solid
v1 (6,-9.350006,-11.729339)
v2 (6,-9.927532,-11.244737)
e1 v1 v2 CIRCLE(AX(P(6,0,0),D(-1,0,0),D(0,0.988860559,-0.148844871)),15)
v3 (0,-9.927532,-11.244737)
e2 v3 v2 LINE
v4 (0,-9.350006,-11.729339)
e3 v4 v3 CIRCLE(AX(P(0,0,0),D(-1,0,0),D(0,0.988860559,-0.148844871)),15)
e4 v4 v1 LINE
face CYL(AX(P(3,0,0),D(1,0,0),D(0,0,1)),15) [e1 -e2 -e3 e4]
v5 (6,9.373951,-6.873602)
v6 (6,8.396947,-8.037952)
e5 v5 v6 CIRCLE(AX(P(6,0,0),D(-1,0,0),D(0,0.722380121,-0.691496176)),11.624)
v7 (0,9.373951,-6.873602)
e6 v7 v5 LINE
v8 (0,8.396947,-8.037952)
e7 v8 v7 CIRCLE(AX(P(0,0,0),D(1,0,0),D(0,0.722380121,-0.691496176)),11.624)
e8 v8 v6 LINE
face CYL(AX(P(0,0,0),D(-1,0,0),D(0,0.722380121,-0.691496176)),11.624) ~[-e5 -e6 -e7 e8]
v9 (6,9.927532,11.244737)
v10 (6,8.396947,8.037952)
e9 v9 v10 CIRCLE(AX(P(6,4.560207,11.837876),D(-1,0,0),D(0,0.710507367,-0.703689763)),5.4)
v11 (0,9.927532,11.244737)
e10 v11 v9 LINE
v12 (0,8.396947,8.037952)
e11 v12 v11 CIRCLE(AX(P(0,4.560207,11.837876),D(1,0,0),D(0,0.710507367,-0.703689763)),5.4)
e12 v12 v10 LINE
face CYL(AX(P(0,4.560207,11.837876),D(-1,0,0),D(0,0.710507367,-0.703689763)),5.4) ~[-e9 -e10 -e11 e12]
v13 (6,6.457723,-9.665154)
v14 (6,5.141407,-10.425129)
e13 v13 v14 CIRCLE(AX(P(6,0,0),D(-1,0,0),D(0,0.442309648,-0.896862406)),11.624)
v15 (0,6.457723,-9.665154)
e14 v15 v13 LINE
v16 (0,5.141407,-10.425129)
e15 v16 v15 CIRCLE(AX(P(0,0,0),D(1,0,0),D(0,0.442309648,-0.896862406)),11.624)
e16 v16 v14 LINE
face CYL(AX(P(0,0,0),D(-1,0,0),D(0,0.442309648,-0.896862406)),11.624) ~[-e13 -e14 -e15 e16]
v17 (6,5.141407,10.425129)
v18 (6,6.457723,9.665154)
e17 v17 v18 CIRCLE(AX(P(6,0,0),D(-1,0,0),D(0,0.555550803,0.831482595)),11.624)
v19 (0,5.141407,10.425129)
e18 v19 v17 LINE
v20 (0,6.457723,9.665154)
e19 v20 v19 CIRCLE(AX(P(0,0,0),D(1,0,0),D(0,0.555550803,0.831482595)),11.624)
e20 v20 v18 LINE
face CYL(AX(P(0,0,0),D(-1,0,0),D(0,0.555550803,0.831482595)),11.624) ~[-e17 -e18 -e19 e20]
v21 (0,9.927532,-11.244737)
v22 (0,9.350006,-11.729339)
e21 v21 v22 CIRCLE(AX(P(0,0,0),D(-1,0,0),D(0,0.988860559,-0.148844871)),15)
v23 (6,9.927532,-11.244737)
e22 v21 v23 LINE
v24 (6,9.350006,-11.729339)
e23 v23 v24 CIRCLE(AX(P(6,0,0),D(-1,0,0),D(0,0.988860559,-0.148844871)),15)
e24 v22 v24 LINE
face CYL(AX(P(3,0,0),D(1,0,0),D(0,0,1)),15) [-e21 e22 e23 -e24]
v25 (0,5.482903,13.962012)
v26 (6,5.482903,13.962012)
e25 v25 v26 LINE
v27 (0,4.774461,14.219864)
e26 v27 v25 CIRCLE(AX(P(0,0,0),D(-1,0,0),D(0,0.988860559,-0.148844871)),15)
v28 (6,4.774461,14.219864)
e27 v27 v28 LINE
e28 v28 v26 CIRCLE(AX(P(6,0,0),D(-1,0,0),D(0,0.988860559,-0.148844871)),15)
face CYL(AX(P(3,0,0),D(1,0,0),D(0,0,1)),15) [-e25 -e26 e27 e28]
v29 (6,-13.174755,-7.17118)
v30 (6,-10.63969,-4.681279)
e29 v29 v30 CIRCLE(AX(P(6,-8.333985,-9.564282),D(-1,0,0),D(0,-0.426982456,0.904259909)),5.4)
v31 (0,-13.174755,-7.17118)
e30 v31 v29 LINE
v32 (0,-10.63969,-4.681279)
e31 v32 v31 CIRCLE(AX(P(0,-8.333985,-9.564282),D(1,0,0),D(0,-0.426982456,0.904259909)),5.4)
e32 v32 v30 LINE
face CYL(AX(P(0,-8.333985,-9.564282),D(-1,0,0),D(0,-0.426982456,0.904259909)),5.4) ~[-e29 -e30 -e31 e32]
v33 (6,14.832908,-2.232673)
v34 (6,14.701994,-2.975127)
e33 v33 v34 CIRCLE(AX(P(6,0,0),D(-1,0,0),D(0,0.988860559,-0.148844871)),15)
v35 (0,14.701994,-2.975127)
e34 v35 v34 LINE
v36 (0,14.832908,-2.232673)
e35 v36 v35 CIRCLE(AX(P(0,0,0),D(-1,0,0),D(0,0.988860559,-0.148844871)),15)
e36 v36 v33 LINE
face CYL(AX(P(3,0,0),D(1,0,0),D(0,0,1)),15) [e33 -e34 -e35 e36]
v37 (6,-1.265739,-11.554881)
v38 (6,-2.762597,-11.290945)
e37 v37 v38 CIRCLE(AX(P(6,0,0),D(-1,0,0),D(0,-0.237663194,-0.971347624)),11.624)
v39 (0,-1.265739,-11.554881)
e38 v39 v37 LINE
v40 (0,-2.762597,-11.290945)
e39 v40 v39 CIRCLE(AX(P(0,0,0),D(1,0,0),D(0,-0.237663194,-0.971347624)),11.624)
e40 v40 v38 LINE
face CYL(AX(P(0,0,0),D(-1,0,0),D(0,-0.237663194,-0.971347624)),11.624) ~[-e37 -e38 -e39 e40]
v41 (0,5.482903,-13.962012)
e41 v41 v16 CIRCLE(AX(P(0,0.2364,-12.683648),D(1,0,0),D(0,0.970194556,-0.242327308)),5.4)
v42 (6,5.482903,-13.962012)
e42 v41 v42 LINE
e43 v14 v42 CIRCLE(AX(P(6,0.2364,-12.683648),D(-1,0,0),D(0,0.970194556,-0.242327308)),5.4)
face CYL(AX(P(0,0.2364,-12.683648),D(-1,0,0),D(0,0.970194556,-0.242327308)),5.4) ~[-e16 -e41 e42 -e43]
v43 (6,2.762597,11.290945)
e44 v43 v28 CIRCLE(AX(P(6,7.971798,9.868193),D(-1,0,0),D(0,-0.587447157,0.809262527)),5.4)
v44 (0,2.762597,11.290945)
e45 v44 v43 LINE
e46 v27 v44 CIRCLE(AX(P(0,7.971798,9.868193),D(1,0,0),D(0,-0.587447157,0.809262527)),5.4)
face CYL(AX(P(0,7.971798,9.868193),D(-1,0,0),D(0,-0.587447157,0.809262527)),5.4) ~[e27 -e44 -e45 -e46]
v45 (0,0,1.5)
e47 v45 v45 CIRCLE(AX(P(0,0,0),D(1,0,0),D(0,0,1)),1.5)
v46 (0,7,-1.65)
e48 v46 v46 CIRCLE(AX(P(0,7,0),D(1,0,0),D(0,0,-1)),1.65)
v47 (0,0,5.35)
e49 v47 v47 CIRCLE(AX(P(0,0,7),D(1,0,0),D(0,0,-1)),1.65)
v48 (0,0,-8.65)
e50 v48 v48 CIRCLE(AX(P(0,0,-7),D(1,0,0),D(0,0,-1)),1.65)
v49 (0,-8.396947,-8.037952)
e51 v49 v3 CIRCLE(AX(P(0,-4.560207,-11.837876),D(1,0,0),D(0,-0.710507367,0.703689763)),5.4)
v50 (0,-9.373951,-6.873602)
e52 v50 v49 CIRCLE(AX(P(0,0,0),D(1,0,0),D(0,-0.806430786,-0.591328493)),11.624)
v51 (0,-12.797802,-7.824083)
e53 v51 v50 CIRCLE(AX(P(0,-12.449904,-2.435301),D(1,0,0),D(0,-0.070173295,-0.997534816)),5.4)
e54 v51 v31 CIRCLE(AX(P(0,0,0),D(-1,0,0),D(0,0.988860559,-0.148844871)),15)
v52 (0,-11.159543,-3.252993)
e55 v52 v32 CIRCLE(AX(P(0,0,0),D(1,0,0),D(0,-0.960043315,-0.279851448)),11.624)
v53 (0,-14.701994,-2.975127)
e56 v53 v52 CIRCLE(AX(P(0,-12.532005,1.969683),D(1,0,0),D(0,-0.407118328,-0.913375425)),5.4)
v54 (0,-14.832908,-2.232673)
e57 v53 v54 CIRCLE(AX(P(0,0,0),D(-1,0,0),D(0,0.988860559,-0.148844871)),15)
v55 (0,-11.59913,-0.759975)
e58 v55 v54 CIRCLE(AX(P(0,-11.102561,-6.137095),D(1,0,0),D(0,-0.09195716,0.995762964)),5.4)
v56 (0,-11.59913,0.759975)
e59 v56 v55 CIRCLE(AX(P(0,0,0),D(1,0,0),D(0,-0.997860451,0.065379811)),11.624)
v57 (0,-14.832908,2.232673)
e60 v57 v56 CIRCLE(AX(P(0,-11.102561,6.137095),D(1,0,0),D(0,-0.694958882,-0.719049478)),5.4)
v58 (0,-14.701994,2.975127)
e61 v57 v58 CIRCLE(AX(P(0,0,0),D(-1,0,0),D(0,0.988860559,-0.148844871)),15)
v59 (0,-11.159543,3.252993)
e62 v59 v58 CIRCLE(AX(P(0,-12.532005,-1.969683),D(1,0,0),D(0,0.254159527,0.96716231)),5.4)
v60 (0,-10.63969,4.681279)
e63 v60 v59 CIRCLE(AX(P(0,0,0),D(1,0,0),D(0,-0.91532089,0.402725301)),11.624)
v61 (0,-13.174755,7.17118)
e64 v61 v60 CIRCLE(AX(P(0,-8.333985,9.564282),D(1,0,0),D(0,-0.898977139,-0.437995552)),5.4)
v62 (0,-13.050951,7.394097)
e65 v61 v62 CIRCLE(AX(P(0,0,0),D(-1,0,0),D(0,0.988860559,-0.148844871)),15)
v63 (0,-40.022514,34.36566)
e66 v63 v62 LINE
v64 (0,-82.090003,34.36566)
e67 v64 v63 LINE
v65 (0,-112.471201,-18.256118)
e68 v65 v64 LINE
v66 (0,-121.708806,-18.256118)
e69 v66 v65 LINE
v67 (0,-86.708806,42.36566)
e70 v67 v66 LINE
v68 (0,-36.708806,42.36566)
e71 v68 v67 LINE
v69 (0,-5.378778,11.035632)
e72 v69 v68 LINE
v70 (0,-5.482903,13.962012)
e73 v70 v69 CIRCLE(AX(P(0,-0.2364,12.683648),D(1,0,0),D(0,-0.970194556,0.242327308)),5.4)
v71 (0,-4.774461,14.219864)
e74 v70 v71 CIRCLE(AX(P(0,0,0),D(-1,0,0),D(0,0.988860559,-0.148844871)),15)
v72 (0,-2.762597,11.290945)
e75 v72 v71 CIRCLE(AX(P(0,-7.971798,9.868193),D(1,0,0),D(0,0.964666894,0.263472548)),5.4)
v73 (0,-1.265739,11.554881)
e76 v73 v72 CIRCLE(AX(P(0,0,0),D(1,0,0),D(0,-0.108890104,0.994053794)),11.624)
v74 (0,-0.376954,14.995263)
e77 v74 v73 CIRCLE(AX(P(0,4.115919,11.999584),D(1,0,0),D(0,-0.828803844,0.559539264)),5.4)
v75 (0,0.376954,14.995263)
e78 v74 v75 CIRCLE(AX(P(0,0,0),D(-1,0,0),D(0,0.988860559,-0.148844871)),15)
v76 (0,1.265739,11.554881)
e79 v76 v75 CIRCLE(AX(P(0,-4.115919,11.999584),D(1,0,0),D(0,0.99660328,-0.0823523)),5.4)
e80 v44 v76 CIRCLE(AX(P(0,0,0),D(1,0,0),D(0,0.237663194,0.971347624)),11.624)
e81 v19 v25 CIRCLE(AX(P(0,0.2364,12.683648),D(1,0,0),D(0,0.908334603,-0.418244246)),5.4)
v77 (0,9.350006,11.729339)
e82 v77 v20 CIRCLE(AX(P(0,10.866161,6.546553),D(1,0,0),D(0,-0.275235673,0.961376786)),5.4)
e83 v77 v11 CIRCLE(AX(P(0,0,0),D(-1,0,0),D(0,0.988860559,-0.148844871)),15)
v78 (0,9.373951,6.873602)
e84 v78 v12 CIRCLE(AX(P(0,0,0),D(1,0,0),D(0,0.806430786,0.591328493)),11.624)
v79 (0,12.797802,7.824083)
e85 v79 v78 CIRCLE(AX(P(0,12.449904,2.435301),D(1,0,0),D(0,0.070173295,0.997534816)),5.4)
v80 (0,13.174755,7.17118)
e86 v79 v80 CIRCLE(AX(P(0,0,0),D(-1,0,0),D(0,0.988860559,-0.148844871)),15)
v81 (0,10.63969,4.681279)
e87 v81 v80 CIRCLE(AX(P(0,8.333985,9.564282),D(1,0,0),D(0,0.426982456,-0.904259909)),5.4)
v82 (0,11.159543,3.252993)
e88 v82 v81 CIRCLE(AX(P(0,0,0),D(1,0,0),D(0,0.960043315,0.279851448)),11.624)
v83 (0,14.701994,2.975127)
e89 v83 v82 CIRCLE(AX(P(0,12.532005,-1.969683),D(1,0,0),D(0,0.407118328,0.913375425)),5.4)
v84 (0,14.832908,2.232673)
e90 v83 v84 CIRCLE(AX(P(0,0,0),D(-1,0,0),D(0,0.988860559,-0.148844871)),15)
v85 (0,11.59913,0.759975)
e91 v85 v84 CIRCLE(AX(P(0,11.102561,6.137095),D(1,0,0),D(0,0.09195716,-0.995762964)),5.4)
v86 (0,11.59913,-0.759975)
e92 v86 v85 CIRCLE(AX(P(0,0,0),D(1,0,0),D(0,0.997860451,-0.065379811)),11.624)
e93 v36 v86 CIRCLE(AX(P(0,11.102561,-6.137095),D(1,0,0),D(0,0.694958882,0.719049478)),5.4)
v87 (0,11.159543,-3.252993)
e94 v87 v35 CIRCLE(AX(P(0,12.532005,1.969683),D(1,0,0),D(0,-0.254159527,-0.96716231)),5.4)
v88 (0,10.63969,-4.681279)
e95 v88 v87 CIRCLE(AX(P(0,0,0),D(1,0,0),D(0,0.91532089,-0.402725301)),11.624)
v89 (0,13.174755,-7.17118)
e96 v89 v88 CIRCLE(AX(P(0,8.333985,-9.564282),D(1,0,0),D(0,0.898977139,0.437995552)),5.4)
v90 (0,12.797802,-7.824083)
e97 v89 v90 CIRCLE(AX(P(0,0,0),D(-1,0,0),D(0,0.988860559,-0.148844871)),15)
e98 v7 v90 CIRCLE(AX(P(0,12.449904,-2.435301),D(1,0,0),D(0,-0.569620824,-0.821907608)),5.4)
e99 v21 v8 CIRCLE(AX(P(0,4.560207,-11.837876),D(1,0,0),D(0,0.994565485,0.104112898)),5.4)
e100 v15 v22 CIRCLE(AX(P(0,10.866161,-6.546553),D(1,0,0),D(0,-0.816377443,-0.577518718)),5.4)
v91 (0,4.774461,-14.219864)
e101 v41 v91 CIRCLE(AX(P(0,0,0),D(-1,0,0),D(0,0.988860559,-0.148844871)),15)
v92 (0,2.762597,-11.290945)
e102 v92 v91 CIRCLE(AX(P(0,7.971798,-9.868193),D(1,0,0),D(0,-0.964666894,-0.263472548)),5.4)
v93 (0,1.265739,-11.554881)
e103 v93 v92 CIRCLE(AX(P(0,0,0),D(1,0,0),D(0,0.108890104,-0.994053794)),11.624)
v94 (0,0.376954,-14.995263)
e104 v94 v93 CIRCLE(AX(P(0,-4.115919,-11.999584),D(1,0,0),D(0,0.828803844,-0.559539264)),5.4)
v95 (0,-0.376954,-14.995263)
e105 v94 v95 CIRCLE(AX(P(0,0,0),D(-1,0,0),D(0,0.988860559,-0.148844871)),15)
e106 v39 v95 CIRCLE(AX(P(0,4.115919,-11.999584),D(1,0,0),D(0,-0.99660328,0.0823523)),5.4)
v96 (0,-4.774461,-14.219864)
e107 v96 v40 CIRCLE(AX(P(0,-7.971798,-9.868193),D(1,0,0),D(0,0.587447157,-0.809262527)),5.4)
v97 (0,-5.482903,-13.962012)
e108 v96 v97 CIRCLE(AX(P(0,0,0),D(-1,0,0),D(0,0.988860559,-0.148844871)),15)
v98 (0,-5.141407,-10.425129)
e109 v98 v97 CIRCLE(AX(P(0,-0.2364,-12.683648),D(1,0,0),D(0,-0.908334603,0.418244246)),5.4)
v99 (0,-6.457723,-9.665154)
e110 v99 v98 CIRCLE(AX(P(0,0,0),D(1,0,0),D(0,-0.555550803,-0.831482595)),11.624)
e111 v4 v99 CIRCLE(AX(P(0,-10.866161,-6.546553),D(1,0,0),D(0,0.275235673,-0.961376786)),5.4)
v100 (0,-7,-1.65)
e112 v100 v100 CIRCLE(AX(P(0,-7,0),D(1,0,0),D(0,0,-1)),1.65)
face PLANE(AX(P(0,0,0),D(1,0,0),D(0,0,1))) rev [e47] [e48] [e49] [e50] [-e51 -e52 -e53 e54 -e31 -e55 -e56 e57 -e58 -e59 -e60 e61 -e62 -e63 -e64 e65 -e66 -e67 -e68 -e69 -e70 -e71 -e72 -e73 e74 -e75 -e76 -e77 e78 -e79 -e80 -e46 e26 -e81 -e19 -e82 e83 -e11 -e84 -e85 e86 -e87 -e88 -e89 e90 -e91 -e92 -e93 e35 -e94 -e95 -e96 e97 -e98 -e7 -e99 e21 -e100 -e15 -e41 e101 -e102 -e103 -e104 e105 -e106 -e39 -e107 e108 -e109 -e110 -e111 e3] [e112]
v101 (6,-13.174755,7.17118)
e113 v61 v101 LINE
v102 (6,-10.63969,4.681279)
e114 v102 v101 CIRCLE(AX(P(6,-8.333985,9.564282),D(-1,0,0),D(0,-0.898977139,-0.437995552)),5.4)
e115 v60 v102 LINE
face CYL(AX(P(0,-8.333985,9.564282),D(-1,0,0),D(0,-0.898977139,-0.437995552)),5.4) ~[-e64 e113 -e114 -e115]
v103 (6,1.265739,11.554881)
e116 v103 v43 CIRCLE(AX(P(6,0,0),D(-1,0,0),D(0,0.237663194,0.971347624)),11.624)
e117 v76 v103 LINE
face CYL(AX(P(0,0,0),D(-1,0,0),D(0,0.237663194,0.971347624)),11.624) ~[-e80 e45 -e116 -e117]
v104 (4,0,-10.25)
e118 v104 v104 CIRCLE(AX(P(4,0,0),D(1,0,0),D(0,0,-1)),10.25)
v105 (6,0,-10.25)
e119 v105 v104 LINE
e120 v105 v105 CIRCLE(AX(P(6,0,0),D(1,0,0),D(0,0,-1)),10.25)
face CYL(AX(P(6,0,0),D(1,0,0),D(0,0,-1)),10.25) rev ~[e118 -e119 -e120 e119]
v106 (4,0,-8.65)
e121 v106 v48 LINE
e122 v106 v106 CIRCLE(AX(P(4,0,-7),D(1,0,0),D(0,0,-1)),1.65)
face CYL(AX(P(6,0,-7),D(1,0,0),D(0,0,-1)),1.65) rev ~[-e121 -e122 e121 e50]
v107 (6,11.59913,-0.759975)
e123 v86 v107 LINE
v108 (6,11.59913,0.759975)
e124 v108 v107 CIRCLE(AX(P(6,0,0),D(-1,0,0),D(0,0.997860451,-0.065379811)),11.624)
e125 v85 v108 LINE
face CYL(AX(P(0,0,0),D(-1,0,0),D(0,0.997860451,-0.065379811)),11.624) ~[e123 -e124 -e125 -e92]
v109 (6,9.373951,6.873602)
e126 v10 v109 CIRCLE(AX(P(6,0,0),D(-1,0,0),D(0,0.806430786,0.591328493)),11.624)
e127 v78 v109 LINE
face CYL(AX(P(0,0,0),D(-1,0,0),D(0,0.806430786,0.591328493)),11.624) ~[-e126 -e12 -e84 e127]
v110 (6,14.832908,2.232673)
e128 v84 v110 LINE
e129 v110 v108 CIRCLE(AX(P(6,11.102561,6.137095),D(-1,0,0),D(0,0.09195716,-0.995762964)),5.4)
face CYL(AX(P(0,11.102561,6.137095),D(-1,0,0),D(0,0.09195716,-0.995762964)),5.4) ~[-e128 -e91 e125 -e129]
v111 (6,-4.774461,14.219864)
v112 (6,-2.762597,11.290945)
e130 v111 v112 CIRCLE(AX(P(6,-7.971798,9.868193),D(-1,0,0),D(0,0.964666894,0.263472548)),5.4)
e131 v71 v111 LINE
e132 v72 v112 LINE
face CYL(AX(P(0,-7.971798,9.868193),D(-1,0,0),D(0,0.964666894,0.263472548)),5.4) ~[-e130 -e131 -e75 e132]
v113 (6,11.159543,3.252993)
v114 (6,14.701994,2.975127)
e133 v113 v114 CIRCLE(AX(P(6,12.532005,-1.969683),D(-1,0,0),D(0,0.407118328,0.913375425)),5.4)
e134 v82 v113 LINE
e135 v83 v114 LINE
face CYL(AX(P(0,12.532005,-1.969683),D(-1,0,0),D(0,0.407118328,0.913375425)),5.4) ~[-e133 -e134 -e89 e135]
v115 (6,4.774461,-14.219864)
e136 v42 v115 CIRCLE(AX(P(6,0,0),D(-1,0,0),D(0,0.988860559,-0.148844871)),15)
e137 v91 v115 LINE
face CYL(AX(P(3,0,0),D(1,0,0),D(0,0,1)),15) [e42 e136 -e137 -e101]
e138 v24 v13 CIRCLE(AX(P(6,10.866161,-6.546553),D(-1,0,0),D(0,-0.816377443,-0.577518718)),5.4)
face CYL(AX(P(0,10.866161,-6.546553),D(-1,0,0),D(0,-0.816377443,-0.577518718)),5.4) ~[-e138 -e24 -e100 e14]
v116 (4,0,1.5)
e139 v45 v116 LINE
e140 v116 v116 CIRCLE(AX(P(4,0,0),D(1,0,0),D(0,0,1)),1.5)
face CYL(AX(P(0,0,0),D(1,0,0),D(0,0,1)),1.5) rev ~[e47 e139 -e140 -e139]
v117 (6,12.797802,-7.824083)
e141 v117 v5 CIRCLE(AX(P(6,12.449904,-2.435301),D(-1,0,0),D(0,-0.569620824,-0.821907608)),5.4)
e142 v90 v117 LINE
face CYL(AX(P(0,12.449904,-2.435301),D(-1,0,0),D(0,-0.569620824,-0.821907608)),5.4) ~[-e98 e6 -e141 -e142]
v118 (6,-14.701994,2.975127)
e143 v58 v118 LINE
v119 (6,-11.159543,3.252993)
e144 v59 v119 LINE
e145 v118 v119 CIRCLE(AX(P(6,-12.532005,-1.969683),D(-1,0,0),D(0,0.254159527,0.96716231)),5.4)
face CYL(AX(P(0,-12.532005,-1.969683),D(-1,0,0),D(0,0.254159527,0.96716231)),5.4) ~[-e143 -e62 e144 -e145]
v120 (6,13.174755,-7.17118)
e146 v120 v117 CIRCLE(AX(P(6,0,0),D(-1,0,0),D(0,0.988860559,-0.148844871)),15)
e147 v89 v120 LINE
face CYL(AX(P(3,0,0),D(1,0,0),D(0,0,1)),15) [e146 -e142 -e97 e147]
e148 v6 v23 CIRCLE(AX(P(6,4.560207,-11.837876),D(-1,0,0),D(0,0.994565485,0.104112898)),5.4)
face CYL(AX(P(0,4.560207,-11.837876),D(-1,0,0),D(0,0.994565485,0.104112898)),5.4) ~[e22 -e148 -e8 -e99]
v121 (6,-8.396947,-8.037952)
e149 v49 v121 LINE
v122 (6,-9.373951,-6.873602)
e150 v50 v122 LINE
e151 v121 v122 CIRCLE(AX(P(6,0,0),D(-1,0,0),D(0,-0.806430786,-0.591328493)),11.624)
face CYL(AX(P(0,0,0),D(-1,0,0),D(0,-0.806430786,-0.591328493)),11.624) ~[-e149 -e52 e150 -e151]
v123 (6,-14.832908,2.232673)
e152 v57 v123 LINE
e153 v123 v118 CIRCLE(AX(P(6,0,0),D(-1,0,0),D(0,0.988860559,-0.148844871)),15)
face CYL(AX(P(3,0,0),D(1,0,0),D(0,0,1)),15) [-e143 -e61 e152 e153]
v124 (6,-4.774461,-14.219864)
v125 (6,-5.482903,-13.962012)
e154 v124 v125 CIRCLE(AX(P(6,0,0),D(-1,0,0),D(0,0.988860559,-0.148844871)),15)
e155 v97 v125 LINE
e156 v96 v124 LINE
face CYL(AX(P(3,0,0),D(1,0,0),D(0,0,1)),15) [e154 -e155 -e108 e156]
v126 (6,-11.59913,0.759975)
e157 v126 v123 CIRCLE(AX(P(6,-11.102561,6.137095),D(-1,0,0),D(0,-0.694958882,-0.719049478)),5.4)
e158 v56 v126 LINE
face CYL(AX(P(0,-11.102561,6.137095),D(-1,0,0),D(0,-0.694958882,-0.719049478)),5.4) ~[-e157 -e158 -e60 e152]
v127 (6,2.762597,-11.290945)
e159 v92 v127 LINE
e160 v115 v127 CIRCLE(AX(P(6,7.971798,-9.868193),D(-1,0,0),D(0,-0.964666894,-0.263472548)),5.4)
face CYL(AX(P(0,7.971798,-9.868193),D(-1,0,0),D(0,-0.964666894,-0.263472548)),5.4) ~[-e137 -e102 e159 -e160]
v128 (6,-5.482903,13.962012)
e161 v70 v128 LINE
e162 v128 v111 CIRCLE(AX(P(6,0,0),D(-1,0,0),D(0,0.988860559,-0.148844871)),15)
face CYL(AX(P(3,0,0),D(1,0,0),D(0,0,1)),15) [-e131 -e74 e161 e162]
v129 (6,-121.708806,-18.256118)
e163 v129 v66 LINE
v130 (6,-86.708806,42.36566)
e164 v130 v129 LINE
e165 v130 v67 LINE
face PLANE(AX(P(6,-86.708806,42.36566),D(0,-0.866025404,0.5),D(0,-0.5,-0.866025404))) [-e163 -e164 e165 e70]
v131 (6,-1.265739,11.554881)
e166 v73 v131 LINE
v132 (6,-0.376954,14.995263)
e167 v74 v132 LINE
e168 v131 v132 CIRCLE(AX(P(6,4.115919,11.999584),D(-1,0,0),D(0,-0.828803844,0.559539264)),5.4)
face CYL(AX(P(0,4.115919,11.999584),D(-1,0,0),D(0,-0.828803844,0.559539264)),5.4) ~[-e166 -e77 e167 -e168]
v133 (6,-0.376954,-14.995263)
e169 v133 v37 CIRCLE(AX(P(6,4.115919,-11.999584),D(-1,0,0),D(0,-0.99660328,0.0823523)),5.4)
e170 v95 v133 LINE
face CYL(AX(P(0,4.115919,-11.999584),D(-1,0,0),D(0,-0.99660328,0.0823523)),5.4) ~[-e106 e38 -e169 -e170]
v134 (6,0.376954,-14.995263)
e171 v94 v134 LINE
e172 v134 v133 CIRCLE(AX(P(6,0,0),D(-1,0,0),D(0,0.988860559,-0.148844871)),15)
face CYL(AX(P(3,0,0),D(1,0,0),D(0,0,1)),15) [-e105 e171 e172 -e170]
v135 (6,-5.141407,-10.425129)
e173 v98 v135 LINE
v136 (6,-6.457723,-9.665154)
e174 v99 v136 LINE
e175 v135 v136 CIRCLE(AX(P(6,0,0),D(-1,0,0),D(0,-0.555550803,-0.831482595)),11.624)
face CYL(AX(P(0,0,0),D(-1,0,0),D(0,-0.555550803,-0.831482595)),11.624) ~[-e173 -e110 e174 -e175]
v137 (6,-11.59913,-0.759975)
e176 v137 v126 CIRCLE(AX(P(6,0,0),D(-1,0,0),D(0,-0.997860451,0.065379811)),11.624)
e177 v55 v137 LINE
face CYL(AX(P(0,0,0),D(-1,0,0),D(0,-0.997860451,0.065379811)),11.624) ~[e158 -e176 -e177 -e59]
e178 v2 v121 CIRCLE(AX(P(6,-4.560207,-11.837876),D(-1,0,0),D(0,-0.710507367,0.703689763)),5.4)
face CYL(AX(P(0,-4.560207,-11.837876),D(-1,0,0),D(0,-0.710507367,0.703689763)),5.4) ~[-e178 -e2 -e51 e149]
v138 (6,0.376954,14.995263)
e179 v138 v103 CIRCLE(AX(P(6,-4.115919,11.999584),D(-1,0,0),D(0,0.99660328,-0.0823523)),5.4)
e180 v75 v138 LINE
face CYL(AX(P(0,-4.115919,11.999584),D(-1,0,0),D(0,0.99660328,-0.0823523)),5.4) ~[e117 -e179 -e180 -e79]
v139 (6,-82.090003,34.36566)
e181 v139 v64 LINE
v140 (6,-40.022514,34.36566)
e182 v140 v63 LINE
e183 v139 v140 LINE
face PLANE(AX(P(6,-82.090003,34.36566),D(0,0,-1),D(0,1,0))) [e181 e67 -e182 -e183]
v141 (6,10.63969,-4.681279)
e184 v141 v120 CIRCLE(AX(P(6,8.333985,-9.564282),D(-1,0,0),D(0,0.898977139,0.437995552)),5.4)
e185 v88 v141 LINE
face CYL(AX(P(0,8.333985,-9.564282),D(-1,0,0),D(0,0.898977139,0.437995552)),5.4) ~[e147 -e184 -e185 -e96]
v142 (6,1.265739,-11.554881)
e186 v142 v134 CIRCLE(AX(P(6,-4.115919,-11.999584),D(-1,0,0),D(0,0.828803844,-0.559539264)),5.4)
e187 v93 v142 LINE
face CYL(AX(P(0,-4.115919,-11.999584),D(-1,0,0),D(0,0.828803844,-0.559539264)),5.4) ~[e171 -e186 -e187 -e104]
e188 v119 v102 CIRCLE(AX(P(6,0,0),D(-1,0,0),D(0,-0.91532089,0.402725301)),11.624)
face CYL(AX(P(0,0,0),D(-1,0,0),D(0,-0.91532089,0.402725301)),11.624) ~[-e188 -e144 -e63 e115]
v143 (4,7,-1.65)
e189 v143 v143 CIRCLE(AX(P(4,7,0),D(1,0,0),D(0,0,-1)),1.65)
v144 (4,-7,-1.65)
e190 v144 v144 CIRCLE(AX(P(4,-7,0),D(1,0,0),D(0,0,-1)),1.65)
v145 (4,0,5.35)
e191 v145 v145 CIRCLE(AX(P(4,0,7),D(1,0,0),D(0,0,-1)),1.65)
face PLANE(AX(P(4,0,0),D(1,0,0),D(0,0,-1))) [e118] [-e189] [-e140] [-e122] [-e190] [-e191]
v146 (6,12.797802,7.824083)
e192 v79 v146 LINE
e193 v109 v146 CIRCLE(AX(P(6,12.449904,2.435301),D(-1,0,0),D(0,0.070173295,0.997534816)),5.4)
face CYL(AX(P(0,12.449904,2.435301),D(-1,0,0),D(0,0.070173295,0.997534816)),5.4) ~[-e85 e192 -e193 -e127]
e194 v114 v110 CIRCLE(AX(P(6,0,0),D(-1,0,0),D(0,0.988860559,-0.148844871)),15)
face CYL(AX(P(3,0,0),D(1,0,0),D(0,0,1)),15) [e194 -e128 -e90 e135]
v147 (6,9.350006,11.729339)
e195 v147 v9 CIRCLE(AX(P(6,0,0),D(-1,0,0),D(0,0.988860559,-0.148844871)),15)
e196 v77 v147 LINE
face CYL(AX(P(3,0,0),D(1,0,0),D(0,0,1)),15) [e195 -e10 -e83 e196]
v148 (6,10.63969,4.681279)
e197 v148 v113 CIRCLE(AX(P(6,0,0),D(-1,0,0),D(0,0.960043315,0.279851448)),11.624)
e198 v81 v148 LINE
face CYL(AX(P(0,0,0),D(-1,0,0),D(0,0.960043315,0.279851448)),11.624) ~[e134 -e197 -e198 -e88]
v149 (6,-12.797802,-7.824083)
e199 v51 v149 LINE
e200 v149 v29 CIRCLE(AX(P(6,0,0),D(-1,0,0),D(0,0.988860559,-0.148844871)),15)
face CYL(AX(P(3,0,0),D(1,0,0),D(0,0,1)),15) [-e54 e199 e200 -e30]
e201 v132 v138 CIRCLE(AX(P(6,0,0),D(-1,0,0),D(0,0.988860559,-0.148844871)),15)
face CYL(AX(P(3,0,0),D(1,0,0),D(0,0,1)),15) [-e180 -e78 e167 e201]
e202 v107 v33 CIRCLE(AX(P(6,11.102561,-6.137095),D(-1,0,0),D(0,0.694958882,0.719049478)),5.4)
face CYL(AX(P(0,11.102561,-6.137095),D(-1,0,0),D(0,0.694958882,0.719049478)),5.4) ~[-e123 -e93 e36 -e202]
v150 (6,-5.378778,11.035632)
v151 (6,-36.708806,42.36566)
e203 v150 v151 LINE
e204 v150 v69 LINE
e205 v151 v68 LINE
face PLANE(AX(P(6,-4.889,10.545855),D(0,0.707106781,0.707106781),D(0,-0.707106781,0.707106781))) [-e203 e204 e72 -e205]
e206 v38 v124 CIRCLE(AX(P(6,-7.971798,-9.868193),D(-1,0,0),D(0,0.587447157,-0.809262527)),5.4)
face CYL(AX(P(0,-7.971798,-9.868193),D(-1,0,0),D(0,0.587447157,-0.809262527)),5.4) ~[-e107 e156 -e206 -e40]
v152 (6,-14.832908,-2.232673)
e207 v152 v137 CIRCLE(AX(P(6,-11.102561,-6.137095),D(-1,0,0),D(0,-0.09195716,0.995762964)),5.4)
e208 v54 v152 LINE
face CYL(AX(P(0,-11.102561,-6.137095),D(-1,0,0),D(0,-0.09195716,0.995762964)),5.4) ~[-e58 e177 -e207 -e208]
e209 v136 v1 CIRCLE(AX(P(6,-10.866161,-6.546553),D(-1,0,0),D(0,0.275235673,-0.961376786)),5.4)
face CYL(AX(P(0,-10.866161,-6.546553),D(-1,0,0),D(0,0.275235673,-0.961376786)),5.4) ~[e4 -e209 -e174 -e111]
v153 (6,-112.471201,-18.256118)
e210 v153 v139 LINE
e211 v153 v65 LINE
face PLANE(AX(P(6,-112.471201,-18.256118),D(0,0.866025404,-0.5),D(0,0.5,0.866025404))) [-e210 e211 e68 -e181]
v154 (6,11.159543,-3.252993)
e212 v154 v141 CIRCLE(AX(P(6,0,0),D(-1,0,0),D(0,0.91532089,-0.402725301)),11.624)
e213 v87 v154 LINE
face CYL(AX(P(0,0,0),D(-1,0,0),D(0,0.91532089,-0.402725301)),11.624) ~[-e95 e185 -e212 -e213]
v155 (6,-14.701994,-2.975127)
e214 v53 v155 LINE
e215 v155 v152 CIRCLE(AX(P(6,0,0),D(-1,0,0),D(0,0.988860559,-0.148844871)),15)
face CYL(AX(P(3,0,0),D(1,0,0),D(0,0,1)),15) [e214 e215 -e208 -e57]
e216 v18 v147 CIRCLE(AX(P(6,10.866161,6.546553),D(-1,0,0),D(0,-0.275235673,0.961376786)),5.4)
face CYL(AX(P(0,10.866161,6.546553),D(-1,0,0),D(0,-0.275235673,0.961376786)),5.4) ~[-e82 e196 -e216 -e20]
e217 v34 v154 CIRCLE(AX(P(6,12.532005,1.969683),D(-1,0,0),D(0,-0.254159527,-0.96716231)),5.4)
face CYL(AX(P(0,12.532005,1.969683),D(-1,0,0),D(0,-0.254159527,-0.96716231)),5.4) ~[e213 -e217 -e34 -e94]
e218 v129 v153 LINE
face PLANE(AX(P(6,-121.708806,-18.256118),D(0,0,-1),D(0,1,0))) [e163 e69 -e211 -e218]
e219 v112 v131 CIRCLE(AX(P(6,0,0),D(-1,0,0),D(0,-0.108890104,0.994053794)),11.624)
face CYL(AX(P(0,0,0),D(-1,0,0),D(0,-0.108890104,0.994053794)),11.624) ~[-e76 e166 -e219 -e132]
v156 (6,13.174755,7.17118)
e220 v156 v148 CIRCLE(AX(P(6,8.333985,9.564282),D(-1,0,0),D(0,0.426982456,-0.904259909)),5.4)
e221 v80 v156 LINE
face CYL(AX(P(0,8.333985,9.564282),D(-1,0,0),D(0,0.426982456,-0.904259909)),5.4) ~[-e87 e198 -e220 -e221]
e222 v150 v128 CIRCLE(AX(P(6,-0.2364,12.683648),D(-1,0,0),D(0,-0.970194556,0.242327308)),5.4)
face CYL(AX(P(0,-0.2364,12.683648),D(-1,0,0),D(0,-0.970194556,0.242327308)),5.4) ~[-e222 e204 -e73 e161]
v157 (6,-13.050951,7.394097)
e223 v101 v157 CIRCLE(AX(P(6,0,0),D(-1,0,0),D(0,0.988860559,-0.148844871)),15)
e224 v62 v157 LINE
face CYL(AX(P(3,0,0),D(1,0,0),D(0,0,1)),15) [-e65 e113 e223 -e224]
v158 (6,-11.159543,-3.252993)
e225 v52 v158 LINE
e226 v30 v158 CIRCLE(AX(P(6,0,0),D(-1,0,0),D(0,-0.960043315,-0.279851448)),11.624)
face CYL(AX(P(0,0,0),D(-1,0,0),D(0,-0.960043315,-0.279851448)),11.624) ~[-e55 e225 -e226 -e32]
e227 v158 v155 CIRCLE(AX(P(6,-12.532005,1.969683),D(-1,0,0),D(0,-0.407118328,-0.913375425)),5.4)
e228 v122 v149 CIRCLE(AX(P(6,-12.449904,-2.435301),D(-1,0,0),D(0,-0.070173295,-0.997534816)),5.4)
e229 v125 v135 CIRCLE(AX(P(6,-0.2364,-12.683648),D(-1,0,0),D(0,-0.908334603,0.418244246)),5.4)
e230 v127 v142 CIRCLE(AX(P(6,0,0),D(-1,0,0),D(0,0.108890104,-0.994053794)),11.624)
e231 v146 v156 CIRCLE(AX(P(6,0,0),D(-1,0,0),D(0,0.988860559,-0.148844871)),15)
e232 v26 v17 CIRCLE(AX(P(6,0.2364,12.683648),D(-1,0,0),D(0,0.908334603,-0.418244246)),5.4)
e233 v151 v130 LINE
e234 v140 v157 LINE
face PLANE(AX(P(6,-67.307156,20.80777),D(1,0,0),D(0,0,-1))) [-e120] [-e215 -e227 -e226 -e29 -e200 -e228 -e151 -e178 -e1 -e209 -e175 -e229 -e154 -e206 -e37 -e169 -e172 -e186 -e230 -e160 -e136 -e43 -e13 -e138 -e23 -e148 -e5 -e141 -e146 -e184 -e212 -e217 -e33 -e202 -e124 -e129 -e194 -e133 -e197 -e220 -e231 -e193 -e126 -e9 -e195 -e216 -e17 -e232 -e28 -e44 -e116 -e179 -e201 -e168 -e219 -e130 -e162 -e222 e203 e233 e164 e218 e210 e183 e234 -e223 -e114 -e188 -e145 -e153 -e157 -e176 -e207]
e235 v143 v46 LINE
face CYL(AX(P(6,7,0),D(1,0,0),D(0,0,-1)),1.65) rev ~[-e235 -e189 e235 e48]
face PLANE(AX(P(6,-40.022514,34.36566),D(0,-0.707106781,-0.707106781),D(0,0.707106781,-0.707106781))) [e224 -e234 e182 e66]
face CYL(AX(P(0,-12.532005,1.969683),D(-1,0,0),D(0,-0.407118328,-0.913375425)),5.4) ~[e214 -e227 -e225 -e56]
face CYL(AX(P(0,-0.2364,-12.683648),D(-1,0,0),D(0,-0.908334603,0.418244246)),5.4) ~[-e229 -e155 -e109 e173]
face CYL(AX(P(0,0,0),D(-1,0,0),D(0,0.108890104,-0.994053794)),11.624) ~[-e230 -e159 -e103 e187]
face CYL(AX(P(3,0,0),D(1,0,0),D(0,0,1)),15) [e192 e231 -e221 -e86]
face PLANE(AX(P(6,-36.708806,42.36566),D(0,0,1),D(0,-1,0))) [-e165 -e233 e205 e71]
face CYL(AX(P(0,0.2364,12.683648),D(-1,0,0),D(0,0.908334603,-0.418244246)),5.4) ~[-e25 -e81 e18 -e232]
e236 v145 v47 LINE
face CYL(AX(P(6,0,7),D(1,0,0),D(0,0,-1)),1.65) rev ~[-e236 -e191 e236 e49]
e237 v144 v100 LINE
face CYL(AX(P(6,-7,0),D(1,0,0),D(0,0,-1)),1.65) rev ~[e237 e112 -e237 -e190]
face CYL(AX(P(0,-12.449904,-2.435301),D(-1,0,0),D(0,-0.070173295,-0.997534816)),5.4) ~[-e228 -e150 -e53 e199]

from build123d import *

# Parameters (mm, degrees)
BASPROSKE_W         = 6
BASPROSKE_H         = 15
TOOTHCUT_DEPTH      = 23.045407685
TEETHCUTS_COUNT     = 18
TEETHCUTS_ANGLE     = 340
BORSKE_R            = 1.5
BORE_DEPTH          = 50.0000508
EXTRUDE_2_DEPTH     = 6
SKETCH_2_R          = 1.65
CUT_EXTRUDE_1_DEPTH = 6
SKETCH_3_R          = 10.25
CUT_EXTRUDE_2_DEPTH = 2


with BuildPart() as part:
    # BasProSke → Base-Revolve (revolve)
    with BuildSketch(Plane(origin=(0, 0, 0), x_dir=(1, 0, 0), z_dir=(0, 1, 0))):
        with Locations((3, 7.5)):
            Rectangle(BASPROSKE_W, BASPROSKE_H)
    revolve(axis=Axis((-10, 0, 0), (1, 0, 0)))

    # TooCutSke → ToothCut (cut, through all)
    with BuildSketch(Plane(origin=(0, 0, 0), x_dir=(0, 0, -1), z_dir=(1, 0, 0))):
        with BuildLine():
            ThreePointArc((0.759974923, 11.599129886), (0, 11.624), (-0.759974923, 11.599129886))
            ThreePointArc((-0.759974923, 11.599129886), (-1.229186471, 13.354767823), (-2.254227748, 14.855339189))
            ThreePointArc((-2.254227748, 14.855339189), (0, 15.0254), (2.254227748, 14.855339189))
            ThreePointArc((2.254227748, 14.855339189), (1.229186471, 13.354767823), (0.759974923, 11.599129886))
        make_face()
    toothcut = extrude(amount=TOOTHCUT_DEPTH, mode=Mode.SUBTRACT)

    # TeethCuts: ToothCut ×18 about axis
    teethcuts_axis = Axis((-10, 0, 0), (1, 0, 0))
    for i in range(1, TEETHCUTS_COUNT):
        add(toothcut.rotate(teethcuts_axis, i * TEETHCUTS_ANGLE / (TEETHCUTS_COUNT - 1)), mode=Mode.SUBTRACT)

    # BorSke → Bore (cut, symmetric)
    with BuildSketch(Plane(origin=(0, 0, 0), x_dir=(0, 0, -1), z_dir=(1, 0, 0))):
        Circle(BORSKE_R)
    extrude(amount=BORE_DEPTH, both=True, mode=Mode.SUBTRACT)

    # 草图1 → 凸台-拉伸2 (add)
    with BuildSketch(Plane(origin=(6, 0, 0), x_dir=(0, 0, -1), z_dir=(1, 0, 0))):
        Polygon((-10.545854675, -4.889000426), (-42.365659829, -36.708805579), (-42.365659829, -86.708805579), (18.256118436, -121.708805579), (18.256118436, -112.471201272), (-34.365659829, -82.090003426), (-34.365659829, -40.022514078), (-4.889000426, -10.545854675), align=None)
    extrude(amount=-EXTRUDE_2_DEPTH)

    # 草图2 → 切除-拉伸1 (cut)
    with BuildSketch(Plane(origin=(6, 0, 0), x_dir=(0, 0, -1), z_dir=(1, 0, 0))):
        with Locations((-7, 0)):
            Circle(SKETCH_2_R)
        with Locations((0, 7)):
            Circle(SKETCH_2_R)
        with Locations((7, 0)):
            Circle(SKETCH_2_R)
        with Locations((0, -7)):
            Circle(SKETCH_2_R)
    extrude(amount=-CUT_EXTRUDE_1_DEPTH, mode=Mode.SUBTRACT)

    # 草图3 → 切除-拉伸2 (cut)
    with BuildSketch(Plane(origin=(6, 0, 0), x_dir=(0, 0, -1), z_dir=(1, 0, 0))):
        Circle(SKETCH_3_R)
    extrude(amount=-CUT_EXTRUDE_2_DEPTH, mode=Mode.SUBTRACT)


solid = part.part
